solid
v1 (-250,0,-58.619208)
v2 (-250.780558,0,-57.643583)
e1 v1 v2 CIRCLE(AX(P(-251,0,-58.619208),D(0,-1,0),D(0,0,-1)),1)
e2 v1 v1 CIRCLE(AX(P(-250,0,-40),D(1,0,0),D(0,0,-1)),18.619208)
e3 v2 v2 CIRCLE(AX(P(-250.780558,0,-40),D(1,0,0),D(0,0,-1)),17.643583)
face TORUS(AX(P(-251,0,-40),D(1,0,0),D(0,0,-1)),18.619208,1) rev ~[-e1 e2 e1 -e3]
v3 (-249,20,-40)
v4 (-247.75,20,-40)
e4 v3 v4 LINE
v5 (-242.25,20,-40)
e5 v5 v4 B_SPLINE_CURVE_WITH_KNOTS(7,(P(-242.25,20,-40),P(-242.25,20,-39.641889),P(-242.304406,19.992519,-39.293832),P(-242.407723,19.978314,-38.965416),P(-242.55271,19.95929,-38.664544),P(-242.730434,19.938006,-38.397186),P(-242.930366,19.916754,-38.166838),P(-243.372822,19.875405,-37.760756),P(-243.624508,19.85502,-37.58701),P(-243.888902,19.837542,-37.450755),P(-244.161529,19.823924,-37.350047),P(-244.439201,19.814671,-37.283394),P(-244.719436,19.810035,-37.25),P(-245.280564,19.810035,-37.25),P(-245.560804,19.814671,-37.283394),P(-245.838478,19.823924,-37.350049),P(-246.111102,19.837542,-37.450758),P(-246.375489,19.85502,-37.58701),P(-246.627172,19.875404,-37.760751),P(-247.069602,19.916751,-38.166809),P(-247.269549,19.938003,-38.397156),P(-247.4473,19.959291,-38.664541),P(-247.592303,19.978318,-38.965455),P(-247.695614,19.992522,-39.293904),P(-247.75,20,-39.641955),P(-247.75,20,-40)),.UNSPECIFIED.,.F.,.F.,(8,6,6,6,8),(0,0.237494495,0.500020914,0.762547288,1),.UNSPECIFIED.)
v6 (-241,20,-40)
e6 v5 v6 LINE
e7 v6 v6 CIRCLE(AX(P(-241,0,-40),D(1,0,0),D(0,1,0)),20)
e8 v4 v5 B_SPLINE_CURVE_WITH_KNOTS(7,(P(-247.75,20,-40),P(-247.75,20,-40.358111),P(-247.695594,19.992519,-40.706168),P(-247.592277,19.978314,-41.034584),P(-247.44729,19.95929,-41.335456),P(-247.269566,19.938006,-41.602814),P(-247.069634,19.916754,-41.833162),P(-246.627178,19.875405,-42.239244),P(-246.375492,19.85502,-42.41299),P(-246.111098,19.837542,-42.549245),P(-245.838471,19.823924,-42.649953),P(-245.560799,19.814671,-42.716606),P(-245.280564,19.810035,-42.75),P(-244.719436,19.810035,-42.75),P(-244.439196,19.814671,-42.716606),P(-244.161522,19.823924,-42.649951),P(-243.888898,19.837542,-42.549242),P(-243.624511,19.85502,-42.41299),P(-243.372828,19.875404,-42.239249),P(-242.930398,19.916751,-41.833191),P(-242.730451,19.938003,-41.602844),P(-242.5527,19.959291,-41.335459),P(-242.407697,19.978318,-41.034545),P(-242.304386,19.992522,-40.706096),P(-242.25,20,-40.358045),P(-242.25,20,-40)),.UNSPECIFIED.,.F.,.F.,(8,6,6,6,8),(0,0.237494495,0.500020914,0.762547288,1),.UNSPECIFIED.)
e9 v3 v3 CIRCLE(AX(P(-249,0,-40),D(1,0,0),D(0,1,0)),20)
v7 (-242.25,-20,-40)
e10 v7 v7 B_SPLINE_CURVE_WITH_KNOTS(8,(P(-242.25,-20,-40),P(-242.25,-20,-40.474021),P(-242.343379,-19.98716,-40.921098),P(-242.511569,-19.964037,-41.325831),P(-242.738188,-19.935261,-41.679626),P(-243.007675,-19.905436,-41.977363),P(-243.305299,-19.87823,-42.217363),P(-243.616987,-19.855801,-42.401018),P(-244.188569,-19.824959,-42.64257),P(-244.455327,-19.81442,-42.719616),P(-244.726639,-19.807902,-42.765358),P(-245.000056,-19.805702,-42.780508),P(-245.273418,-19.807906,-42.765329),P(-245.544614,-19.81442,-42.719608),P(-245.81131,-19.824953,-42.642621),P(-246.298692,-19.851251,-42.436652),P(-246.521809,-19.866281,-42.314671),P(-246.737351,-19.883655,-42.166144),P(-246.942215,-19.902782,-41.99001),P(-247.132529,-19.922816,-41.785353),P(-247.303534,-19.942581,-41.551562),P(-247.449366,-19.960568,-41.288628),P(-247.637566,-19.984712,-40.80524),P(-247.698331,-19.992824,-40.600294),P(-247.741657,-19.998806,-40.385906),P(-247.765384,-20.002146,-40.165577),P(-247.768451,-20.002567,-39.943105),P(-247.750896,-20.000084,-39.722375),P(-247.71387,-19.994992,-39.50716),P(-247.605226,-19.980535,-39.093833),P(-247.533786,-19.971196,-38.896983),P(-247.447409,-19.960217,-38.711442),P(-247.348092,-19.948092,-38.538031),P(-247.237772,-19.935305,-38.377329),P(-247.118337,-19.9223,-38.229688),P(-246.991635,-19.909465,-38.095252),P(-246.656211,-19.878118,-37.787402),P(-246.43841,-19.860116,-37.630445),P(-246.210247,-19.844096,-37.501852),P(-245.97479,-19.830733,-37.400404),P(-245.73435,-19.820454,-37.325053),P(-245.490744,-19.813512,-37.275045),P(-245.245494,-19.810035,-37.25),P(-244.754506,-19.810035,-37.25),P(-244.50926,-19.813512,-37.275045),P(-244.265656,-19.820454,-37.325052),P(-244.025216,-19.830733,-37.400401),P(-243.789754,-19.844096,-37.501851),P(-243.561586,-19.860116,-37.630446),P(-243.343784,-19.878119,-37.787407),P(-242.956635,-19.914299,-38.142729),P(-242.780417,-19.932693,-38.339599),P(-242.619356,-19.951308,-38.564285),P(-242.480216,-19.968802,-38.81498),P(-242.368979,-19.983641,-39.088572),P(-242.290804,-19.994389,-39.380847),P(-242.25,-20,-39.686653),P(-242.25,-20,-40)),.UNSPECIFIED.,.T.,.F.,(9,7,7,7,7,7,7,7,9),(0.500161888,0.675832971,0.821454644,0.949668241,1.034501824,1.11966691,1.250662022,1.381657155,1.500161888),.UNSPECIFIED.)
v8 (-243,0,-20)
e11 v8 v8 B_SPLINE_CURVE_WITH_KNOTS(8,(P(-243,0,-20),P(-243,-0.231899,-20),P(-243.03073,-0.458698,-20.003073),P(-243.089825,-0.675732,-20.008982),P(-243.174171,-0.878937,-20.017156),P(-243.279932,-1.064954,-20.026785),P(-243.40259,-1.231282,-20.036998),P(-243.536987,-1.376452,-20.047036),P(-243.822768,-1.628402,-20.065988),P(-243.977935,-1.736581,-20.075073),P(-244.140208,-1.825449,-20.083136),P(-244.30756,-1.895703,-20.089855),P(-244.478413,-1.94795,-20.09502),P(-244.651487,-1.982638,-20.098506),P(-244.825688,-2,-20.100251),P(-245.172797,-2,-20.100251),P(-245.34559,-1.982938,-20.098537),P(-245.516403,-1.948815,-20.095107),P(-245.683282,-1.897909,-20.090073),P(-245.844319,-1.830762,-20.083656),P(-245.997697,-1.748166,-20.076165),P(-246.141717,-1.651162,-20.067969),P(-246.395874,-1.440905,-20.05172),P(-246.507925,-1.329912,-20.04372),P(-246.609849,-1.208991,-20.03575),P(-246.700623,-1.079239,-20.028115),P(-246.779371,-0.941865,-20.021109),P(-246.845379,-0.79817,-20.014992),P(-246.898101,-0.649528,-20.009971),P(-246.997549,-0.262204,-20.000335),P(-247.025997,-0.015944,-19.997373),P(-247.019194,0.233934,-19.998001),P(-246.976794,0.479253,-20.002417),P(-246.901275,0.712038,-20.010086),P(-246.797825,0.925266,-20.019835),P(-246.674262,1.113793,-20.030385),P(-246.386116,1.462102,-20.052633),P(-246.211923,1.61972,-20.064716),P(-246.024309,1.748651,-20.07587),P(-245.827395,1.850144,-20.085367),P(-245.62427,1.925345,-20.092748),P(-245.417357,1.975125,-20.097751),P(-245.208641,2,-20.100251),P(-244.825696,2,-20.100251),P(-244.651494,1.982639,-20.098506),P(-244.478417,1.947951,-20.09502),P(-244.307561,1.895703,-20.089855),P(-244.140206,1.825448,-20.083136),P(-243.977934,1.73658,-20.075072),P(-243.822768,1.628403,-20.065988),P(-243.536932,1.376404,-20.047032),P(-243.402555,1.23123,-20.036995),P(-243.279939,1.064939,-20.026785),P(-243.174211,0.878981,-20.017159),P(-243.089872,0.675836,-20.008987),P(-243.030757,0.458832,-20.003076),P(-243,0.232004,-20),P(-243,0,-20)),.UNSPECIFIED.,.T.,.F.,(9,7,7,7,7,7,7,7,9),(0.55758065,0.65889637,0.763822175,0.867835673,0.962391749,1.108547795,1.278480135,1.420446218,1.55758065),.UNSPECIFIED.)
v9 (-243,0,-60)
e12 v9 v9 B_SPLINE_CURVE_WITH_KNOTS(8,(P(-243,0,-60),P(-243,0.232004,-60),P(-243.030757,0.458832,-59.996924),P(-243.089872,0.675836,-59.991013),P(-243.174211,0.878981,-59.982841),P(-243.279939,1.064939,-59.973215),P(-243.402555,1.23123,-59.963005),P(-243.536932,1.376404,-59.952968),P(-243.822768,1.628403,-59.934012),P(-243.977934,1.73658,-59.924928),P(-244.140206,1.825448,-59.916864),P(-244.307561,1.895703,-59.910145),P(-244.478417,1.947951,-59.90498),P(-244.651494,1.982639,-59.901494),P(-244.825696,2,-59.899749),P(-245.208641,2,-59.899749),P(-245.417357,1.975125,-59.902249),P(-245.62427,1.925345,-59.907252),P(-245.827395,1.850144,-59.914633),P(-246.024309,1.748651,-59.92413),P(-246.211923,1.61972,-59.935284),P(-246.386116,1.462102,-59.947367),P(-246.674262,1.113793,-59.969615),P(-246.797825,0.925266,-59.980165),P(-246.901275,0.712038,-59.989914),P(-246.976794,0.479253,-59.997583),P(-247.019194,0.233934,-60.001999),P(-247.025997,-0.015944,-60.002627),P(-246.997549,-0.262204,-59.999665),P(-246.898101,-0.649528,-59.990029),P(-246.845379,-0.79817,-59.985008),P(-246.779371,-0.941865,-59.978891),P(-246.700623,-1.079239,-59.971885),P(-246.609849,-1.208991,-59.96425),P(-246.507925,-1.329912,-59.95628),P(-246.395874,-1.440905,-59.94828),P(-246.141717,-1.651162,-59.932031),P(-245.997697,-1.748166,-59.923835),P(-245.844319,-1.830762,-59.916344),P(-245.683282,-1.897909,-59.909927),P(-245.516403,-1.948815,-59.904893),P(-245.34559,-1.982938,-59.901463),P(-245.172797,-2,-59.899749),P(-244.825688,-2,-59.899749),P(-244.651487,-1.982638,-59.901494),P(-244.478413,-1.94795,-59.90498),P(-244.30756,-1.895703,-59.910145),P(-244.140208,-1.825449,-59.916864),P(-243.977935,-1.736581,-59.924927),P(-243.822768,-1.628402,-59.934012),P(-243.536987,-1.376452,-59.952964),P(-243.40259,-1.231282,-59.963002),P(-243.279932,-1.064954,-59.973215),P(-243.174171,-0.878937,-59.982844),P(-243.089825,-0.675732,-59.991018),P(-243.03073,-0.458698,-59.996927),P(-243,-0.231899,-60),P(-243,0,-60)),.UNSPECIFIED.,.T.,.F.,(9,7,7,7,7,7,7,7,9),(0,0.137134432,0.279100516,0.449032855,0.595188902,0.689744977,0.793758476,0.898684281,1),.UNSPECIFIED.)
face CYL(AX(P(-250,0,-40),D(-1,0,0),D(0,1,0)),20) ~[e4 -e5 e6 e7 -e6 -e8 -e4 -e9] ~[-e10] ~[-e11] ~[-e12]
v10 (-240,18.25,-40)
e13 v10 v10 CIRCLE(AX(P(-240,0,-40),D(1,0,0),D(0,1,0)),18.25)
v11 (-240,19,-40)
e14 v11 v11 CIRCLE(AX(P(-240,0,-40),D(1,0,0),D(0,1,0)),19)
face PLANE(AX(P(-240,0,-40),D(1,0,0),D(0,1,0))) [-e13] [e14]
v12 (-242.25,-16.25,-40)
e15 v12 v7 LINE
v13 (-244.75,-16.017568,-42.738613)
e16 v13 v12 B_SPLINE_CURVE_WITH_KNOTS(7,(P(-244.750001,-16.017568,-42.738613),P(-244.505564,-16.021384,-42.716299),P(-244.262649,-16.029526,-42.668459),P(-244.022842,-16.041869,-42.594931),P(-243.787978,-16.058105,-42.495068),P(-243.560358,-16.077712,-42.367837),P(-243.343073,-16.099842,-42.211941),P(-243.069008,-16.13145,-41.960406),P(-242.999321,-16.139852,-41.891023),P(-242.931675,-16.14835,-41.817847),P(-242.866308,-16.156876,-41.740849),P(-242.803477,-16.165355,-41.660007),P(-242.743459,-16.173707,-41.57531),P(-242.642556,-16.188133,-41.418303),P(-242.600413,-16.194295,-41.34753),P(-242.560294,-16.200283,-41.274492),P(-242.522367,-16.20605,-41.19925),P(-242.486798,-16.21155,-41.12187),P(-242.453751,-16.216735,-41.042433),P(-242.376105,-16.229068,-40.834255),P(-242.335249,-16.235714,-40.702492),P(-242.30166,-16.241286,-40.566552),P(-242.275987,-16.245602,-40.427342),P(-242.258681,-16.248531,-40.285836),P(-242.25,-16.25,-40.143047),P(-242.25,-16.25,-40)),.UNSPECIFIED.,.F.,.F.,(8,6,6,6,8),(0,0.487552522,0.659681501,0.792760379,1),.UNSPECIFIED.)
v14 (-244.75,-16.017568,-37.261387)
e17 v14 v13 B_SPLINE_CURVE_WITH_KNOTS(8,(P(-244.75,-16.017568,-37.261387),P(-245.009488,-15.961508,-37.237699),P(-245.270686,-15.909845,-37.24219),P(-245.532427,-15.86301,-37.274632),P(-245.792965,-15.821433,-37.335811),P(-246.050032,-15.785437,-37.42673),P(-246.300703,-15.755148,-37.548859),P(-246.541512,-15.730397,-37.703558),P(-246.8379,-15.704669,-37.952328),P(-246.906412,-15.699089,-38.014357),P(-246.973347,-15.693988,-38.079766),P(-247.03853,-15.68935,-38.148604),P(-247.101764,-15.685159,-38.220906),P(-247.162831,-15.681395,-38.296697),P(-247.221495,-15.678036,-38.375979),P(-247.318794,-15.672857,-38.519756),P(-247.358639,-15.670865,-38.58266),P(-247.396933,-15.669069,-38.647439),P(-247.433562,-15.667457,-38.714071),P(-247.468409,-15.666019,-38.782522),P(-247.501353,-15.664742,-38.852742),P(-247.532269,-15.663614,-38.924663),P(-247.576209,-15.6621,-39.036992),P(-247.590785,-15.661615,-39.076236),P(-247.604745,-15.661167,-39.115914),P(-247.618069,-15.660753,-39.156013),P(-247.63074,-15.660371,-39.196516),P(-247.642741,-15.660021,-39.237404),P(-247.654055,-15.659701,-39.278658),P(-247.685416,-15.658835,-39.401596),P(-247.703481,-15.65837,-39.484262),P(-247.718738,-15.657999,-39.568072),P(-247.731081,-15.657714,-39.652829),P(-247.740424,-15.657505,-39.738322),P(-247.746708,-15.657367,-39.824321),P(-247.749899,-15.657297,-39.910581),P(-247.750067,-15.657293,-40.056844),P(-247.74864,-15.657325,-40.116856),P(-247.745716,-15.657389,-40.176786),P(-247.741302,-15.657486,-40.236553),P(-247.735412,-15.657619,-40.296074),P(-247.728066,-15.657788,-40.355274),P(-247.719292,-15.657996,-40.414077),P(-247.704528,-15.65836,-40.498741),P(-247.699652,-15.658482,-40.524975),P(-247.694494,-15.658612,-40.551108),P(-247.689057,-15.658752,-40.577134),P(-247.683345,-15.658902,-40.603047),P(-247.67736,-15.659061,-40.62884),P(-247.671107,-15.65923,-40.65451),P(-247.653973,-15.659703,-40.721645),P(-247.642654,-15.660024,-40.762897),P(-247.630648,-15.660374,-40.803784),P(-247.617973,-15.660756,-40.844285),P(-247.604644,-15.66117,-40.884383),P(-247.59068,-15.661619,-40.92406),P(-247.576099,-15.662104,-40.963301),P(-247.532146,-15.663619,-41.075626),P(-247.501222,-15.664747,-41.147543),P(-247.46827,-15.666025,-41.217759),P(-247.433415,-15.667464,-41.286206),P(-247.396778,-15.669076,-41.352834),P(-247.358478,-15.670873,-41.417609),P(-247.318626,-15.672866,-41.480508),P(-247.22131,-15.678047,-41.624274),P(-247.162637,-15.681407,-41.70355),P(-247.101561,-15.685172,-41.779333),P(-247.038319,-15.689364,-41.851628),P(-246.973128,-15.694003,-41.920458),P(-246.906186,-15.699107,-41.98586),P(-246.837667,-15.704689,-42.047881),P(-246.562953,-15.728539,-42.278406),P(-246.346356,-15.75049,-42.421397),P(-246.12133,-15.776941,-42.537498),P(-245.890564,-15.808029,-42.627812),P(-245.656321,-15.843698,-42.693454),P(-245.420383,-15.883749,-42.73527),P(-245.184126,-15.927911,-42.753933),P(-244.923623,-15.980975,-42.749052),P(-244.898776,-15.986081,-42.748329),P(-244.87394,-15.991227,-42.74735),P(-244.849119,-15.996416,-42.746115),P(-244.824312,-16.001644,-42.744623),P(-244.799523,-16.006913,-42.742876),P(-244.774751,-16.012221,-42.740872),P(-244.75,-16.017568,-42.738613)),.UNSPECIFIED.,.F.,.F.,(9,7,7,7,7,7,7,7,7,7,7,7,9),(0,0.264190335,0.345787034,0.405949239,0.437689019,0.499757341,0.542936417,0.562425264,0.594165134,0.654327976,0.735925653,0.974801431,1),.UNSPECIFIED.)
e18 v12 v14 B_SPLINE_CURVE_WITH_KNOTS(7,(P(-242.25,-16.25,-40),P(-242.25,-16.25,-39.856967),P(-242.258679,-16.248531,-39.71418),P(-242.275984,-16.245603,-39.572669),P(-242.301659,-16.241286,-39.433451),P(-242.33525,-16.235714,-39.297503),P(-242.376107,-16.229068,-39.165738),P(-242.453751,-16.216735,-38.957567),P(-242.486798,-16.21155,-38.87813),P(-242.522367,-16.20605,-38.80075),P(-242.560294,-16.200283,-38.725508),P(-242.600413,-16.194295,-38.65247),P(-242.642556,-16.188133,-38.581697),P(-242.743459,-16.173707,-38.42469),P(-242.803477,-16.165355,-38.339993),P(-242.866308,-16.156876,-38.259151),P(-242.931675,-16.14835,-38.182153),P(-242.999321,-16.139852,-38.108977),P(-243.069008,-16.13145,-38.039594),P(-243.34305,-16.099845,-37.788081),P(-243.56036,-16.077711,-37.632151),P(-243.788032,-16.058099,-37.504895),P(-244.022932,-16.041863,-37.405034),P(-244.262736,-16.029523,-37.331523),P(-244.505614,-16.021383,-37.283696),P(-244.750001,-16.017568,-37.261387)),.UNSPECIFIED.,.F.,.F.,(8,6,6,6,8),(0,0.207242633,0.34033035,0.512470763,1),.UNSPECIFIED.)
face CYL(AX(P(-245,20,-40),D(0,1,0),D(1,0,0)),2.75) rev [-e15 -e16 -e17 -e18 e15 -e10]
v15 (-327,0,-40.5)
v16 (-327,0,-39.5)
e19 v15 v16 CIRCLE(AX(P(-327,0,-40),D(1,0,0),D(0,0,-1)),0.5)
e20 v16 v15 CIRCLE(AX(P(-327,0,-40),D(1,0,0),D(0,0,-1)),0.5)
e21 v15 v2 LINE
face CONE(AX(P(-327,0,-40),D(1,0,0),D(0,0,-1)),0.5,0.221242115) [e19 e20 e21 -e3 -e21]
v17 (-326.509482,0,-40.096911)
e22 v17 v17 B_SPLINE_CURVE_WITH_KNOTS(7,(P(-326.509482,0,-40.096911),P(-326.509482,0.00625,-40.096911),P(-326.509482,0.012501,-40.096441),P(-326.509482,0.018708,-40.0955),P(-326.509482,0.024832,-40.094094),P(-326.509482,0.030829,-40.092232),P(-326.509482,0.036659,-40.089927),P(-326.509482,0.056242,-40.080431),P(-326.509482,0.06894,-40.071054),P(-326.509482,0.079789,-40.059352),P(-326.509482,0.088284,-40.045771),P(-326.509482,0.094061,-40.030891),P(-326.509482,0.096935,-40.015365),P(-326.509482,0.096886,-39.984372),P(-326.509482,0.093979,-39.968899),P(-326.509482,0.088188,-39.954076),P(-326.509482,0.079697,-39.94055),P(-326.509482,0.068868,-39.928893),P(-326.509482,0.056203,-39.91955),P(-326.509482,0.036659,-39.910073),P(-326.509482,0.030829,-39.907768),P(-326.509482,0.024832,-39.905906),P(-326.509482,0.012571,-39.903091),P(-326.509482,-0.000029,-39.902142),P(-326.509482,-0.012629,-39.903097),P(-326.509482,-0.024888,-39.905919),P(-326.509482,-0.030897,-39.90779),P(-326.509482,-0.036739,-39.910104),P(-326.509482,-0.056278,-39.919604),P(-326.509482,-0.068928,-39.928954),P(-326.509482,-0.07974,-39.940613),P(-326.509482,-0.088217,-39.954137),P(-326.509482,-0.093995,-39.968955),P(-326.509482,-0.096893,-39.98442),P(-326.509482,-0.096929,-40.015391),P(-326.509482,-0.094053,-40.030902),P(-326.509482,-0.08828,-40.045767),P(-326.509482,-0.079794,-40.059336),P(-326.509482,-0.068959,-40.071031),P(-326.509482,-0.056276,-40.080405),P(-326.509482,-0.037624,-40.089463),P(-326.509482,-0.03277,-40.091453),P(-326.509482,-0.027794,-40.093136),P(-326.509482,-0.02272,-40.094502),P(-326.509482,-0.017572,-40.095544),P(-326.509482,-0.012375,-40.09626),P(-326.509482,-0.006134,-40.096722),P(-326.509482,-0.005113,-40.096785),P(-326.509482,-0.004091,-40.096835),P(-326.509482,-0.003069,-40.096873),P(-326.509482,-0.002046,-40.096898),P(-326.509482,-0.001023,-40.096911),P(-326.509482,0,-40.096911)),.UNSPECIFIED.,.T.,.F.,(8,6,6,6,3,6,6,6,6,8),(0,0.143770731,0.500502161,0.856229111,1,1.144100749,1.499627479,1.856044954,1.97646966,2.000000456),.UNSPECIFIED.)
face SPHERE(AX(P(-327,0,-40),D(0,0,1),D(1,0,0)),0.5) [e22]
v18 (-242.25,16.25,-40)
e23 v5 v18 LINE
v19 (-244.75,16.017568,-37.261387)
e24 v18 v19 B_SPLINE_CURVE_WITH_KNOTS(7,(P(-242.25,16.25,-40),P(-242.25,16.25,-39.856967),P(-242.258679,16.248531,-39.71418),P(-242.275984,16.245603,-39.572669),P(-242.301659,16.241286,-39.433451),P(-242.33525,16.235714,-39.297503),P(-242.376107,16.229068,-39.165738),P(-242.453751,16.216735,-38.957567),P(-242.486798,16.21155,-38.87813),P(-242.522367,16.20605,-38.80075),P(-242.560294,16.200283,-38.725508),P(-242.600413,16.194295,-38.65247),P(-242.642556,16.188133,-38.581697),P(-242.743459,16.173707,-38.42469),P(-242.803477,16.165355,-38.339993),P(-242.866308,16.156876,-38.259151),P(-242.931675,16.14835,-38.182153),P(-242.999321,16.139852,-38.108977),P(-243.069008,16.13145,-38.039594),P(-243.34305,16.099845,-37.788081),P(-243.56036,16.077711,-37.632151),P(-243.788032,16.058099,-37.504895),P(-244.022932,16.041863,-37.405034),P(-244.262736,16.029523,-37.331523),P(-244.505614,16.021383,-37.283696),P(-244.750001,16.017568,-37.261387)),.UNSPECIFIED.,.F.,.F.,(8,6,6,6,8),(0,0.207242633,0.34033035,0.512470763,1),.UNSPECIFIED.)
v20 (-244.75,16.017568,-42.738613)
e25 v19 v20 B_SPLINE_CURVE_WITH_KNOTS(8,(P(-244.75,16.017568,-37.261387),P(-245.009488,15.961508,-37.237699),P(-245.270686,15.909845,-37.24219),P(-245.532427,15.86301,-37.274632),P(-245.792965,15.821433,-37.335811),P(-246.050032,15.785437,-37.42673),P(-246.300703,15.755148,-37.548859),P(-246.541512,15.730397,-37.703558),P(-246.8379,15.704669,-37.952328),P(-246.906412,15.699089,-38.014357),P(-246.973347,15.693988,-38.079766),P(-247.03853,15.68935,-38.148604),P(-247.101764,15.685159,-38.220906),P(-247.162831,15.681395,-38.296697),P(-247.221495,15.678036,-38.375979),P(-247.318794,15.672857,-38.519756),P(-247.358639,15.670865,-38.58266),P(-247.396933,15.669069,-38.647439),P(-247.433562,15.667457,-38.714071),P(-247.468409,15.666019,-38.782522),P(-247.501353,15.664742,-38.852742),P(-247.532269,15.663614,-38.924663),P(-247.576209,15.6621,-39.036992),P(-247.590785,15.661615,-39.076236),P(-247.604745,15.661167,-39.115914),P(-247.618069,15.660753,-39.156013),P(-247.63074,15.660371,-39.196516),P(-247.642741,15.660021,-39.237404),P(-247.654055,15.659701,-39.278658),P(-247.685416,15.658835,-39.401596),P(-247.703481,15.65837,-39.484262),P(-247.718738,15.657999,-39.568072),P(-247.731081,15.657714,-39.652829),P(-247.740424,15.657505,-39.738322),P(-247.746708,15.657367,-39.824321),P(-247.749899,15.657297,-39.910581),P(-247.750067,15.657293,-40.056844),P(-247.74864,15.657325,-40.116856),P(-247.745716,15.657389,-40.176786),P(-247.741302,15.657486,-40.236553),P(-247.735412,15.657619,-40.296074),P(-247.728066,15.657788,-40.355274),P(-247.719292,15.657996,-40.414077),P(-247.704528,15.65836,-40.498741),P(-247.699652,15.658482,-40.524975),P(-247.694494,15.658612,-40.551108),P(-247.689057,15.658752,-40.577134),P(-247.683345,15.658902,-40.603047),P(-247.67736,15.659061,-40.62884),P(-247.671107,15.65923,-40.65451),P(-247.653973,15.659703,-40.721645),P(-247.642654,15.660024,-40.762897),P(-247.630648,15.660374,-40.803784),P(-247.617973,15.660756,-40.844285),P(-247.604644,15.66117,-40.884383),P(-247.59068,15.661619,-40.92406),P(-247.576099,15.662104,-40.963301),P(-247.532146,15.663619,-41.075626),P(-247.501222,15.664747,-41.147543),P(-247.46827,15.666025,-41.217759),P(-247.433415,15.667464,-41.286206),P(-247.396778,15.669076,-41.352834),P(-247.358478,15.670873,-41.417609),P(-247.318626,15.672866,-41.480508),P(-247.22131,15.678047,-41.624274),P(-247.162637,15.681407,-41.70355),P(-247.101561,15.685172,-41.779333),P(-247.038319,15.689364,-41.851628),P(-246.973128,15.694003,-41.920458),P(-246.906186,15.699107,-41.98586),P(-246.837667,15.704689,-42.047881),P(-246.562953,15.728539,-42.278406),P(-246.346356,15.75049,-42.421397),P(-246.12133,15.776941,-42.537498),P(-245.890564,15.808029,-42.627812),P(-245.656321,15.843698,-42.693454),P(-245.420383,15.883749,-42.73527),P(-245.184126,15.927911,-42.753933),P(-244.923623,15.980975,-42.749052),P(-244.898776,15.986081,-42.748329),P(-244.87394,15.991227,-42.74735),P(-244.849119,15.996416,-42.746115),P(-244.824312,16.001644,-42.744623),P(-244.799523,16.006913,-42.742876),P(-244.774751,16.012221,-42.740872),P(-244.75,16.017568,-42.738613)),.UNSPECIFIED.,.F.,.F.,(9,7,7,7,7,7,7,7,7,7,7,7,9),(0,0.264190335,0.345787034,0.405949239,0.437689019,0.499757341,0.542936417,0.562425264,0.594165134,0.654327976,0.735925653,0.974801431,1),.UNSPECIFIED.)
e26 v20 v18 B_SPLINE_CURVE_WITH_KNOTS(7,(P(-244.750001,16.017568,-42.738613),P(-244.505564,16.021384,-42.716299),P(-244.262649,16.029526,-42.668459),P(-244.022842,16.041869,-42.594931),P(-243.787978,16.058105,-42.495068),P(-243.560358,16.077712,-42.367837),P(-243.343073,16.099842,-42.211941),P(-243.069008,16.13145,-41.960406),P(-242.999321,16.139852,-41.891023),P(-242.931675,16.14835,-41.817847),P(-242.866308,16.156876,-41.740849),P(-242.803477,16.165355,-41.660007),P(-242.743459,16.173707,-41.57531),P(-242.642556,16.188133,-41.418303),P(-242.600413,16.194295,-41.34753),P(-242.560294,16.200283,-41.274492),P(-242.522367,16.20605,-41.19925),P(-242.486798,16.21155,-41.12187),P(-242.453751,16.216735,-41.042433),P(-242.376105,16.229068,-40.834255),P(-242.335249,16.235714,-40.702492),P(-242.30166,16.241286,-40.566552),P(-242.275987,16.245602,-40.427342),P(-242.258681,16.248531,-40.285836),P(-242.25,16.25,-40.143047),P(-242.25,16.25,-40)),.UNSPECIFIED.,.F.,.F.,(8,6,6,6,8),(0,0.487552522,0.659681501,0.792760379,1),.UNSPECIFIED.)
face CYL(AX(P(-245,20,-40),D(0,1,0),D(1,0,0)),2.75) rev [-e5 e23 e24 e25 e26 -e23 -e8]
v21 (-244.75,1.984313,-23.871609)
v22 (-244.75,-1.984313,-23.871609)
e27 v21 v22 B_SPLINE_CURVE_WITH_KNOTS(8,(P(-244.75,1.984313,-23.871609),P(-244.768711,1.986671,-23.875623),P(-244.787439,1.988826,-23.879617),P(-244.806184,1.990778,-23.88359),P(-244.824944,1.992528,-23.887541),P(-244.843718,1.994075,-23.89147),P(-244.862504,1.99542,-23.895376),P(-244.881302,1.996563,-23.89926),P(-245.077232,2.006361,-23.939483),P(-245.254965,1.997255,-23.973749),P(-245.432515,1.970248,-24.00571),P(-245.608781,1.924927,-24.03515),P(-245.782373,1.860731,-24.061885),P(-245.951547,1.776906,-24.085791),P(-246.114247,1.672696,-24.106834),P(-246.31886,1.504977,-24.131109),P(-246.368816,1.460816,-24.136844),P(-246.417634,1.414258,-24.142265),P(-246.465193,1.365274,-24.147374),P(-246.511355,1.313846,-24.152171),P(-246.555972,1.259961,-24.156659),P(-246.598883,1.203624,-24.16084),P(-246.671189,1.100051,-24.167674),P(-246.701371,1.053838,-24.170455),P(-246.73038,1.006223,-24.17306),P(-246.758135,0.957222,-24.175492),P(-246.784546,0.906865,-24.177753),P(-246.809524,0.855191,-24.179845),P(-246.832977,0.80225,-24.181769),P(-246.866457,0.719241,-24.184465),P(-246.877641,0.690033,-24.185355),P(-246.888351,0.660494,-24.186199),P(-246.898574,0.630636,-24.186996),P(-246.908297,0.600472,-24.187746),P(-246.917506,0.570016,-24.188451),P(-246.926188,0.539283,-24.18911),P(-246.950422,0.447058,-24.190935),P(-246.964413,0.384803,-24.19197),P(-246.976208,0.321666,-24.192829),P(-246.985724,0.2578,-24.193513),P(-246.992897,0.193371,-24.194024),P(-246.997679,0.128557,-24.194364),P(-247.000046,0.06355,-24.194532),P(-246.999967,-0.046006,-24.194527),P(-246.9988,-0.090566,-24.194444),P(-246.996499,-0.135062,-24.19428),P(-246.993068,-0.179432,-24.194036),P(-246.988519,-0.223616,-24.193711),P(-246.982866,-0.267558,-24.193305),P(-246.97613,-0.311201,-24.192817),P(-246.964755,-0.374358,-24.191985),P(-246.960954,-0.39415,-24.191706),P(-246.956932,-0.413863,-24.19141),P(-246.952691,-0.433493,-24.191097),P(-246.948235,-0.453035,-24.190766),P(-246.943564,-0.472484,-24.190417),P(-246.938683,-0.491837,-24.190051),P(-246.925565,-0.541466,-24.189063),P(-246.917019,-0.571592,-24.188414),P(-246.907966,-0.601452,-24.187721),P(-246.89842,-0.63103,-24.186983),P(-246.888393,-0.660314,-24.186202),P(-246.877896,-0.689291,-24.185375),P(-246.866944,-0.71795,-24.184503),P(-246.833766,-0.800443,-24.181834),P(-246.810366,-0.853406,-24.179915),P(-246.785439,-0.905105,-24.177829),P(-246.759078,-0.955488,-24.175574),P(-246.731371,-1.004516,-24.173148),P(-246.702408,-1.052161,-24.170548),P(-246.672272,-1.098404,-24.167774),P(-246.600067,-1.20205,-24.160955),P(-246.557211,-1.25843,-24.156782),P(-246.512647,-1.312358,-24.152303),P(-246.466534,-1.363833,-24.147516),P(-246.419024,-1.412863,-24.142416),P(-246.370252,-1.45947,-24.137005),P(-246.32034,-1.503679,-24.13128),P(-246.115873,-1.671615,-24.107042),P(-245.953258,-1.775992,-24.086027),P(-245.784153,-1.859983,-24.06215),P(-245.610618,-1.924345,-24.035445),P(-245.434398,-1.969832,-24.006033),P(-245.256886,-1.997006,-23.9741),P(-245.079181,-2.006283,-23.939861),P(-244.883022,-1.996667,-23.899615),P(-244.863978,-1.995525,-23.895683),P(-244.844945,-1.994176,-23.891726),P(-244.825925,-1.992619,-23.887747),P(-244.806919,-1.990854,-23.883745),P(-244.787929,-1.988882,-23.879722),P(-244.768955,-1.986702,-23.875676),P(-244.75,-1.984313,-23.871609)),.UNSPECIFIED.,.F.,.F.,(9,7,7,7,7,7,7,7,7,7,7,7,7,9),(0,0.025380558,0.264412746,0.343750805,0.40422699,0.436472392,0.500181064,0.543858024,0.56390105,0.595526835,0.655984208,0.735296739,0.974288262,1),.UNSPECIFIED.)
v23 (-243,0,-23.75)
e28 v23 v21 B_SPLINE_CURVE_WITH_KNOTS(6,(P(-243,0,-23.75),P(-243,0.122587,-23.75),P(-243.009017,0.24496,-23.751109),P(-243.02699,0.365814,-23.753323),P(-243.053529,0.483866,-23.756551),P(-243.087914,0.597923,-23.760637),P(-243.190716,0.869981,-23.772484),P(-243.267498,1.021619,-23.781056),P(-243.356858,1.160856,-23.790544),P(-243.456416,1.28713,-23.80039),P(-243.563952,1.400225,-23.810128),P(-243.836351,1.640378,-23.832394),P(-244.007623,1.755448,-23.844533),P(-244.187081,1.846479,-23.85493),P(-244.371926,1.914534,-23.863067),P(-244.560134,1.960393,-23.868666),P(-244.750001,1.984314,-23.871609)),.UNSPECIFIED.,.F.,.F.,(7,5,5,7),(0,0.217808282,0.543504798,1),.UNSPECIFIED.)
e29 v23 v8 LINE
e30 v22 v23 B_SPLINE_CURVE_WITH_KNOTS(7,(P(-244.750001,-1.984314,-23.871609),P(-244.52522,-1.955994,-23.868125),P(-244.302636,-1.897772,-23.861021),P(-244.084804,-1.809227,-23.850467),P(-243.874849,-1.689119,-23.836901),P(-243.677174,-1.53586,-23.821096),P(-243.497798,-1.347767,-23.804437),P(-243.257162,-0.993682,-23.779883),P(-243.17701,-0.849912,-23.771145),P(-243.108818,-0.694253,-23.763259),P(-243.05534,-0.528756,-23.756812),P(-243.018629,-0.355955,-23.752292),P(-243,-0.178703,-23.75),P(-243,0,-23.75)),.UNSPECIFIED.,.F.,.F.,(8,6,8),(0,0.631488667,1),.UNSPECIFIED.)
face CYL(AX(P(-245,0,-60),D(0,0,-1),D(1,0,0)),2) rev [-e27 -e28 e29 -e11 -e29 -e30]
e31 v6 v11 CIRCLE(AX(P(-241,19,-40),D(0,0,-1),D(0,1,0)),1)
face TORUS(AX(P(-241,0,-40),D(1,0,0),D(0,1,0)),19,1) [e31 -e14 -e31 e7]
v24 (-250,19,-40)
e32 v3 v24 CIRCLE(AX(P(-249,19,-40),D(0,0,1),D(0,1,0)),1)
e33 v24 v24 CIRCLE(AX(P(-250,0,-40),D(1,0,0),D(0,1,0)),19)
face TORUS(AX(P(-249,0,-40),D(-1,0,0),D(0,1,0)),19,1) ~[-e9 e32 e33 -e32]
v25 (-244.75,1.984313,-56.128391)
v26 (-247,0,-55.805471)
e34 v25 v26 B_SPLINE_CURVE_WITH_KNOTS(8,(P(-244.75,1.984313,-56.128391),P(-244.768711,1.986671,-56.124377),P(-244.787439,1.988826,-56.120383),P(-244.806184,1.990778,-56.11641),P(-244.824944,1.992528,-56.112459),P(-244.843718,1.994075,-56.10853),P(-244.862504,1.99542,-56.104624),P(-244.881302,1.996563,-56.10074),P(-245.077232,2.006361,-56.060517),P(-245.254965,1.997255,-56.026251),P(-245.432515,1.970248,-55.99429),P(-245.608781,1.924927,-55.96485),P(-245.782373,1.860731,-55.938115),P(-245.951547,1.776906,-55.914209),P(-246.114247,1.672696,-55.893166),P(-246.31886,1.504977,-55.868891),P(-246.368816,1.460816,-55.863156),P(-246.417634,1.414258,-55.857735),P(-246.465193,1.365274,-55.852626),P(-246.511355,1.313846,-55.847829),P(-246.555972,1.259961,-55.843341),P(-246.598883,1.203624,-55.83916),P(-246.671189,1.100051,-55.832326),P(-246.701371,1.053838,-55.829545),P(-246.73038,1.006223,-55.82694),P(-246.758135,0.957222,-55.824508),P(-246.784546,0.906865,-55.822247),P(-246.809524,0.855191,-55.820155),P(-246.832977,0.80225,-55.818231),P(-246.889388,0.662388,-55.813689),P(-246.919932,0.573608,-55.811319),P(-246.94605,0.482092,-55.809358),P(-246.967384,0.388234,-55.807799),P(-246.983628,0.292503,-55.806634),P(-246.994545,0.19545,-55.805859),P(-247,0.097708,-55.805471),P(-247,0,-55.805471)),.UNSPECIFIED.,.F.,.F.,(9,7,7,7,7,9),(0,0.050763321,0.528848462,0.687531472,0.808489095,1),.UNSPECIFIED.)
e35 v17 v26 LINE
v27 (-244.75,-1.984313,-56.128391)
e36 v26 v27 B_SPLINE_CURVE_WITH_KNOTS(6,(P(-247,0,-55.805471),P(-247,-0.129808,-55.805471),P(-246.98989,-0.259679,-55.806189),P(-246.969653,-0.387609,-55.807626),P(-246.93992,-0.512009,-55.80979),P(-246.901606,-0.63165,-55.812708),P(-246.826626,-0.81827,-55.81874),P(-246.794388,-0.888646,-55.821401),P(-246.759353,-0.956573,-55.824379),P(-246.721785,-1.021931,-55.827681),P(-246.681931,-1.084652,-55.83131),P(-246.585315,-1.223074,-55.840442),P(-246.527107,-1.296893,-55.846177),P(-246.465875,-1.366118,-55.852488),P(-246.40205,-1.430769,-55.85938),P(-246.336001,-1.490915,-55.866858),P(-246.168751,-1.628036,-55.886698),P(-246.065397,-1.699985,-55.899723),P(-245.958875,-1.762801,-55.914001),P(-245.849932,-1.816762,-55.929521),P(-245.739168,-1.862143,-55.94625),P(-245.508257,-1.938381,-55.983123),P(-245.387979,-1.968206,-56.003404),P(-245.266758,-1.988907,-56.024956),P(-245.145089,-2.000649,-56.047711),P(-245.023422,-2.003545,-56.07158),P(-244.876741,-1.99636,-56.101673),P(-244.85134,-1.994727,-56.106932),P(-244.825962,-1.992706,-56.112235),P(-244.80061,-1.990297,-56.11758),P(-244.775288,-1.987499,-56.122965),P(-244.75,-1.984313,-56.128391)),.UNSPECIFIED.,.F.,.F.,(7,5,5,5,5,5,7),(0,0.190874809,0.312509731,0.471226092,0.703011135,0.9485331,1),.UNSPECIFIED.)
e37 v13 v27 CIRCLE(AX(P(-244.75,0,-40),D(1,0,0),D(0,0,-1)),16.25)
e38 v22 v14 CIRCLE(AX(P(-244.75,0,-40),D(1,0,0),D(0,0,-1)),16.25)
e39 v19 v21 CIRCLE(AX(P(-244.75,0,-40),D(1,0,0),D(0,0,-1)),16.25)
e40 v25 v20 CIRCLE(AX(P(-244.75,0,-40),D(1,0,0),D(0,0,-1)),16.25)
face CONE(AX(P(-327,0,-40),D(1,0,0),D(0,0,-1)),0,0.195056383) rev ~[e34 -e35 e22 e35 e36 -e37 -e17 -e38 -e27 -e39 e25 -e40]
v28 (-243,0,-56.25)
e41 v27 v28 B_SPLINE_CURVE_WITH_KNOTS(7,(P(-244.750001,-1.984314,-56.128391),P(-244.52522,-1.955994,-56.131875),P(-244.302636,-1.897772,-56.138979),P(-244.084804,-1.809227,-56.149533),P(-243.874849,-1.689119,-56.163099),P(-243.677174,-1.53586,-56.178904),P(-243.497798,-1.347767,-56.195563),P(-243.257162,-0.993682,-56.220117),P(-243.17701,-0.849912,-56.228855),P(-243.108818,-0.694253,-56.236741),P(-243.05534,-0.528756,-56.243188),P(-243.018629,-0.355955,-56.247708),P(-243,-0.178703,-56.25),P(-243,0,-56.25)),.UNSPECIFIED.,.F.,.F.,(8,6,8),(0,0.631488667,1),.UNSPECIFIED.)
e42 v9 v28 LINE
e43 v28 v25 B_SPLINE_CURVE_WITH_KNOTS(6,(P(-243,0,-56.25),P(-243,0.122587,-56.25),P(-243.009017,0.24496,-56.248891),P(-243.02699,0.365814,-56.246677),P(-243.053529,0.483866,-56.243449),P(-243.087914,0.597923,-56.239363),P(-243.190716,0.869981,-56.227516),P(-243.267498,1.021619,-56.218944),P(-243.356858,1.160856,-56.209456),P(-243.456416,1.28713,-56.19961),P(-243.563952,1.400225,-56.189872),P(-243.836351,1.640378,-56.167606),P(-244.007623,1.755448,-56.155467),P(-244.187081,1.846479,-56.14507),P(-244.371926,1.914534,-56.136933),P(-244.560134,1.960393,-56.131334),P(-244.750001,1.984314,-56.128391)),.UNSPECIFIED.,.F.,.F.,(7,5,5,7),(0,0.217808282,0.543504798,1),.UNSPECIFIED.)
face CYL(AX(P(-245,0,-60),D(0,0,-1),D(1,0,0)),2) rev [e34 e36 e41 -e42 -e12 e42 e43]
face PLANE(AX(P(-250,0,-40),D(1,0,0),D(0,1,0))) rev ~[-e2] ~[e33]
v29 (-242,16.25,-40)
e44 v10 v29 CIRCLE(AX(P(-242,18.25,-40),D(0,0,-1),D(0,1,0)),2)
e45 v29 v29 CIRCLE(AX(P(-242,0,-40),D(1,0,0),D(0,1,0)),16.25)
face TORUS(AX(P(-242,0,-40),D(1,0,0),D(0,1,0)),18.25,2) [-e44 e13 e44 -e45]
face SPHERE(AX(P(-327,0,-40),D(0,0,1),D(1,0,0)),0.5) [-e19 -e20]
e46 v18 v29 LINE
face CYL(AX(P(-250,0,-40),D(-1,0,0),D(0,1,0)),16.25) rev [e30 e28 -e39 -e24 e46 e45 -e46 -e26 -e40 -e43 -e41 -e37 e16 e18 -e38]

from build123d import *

# Parameters (mm, degrees)
SKETCH017_R      = 2
EXTRUDE017_DEPTH = 40
SKETCH016_R      = 2.75
EXTRUDE016_DEPTH = 40
SKETCH015_R      = 20
SKETCH015_R_2    = 16.25
EXTRUDE015_DEPTH = 10
FILLET013_R      = 1
FILLET014_R      = 2


with BuildPart() as extrude017:
    # Sketch017 → Extrude017 (new body)
    with BuildSketch(Plane.XY.offset(-60)):
        with Locations((-245, 0)):
            Circle(SKETCH017_R)
    extrude(amount=EXTRUDE017_DEPTH)


with BuildPart() as fusion134:
    # Sketch016 → Extrude016 (new body)
    with BuildSketch(Plane.XZ.offset(-20)):
        with Locations((-245, -40)):
            Circle(SKETCH016_R)
    extrude(amount=EXTRUDE016_DEPTH)

    # Fusion134: union Extrude017
    add(extrude017.part)


with BuildPart() as extrude015:
    # Sketch015 → Extrude015 (new body)
    with BuildSketch(Plane.YZ.offset(-250)):
        with Locations((0, -40)):
            Circle(SKETCH015_R)
        with Locations((0, -40)):
            Circle(SKETCH015_R_2, mode=Mode.SUBTRACT)
    extrude(amount=EXTRUDE015_DEPTH)


with BuildPart() as sphere:
    # Sphere → Sphere (revolve)
    with BuildSketch(Plane(origin=(-318, 0, 0), x_dir=(1, 0, 0), z_dir=(0, -1, 0))):
        with BuildLine():
            ThreePointArc((0, -0.5), (0.5, 0), (0, 0.5))
            Line((0, 0.5), (0, -0.5))
        make_face()
    revolve(axis=Axis((-318, 0, 0), (0, 0, 1)))


with BuildPart() as cone006:
    # Cone006 → Cone006 (revolve)
    with BuildSketch(Plane(origin=(-308, 0, 0), x_dir=(0, 0, -1), z_dir=(0, -1, 0))):
        Polygon((0, 0), (16.25, 82.25), (0, 82.25), align=None)
    revolve(axis=Axis((-308, 0, 0), (1, 0, 0)))


with BuildPart() as inletcover:
    # Cone005 → Cone005 (revolve)
    with BuildSketch(Plane(origin=(-308, 0, 0), x_dir=(0, 0, -1), z_dir=(0, -1, 0))):
        Polygon((0, 0), (0.5, 0), (19, 82.25), (0, 82.25), align=None)
    revolve(axis=Axis((-308, 0, 0), (1, 0, 0)))

    # Cut015: cut Cone006
    add(cone006.part, mode=Mode.SUBTRACT)


with BuildPart() as inletcover_1:
    # Cut015 placement: moved
    add(inletcover.part.moved(Location((-10, 0, 0))))

    # Fusion127: union Sphere
    add(sphere.part)


with BuildPart() as inletcover_2:
    # Fusion127 placement: moved
    add(inletcover_1.part.moved(Location((-9, 0, -40))))

    # Fusion135: union Extrude015
    add(extrude015.part)

    # Cut019: cut Fusion134
    add(fusion134.part, mode=Mode.SUBTRACT)

    # Fillet013
    fillet013_edges = [inletcover_2.edges().sort_by_distance(p)[0] for p in [
        (-250, -20, -40),
        (-240, -20, -40),
        (-250, 0, -22.180851),
    ]]
    fillet(fillet013_edges, radius=FILLET013_R)

    # Fillet014
    fillet014_edges = [inletcover_2.edges().sort_by_distance(p)[0] for p in [
        (-240, -16.25, -40),
    ]]
    fillet(fillet014_edges, radius=FILLET014_R)


solid = inletcover_2.part
